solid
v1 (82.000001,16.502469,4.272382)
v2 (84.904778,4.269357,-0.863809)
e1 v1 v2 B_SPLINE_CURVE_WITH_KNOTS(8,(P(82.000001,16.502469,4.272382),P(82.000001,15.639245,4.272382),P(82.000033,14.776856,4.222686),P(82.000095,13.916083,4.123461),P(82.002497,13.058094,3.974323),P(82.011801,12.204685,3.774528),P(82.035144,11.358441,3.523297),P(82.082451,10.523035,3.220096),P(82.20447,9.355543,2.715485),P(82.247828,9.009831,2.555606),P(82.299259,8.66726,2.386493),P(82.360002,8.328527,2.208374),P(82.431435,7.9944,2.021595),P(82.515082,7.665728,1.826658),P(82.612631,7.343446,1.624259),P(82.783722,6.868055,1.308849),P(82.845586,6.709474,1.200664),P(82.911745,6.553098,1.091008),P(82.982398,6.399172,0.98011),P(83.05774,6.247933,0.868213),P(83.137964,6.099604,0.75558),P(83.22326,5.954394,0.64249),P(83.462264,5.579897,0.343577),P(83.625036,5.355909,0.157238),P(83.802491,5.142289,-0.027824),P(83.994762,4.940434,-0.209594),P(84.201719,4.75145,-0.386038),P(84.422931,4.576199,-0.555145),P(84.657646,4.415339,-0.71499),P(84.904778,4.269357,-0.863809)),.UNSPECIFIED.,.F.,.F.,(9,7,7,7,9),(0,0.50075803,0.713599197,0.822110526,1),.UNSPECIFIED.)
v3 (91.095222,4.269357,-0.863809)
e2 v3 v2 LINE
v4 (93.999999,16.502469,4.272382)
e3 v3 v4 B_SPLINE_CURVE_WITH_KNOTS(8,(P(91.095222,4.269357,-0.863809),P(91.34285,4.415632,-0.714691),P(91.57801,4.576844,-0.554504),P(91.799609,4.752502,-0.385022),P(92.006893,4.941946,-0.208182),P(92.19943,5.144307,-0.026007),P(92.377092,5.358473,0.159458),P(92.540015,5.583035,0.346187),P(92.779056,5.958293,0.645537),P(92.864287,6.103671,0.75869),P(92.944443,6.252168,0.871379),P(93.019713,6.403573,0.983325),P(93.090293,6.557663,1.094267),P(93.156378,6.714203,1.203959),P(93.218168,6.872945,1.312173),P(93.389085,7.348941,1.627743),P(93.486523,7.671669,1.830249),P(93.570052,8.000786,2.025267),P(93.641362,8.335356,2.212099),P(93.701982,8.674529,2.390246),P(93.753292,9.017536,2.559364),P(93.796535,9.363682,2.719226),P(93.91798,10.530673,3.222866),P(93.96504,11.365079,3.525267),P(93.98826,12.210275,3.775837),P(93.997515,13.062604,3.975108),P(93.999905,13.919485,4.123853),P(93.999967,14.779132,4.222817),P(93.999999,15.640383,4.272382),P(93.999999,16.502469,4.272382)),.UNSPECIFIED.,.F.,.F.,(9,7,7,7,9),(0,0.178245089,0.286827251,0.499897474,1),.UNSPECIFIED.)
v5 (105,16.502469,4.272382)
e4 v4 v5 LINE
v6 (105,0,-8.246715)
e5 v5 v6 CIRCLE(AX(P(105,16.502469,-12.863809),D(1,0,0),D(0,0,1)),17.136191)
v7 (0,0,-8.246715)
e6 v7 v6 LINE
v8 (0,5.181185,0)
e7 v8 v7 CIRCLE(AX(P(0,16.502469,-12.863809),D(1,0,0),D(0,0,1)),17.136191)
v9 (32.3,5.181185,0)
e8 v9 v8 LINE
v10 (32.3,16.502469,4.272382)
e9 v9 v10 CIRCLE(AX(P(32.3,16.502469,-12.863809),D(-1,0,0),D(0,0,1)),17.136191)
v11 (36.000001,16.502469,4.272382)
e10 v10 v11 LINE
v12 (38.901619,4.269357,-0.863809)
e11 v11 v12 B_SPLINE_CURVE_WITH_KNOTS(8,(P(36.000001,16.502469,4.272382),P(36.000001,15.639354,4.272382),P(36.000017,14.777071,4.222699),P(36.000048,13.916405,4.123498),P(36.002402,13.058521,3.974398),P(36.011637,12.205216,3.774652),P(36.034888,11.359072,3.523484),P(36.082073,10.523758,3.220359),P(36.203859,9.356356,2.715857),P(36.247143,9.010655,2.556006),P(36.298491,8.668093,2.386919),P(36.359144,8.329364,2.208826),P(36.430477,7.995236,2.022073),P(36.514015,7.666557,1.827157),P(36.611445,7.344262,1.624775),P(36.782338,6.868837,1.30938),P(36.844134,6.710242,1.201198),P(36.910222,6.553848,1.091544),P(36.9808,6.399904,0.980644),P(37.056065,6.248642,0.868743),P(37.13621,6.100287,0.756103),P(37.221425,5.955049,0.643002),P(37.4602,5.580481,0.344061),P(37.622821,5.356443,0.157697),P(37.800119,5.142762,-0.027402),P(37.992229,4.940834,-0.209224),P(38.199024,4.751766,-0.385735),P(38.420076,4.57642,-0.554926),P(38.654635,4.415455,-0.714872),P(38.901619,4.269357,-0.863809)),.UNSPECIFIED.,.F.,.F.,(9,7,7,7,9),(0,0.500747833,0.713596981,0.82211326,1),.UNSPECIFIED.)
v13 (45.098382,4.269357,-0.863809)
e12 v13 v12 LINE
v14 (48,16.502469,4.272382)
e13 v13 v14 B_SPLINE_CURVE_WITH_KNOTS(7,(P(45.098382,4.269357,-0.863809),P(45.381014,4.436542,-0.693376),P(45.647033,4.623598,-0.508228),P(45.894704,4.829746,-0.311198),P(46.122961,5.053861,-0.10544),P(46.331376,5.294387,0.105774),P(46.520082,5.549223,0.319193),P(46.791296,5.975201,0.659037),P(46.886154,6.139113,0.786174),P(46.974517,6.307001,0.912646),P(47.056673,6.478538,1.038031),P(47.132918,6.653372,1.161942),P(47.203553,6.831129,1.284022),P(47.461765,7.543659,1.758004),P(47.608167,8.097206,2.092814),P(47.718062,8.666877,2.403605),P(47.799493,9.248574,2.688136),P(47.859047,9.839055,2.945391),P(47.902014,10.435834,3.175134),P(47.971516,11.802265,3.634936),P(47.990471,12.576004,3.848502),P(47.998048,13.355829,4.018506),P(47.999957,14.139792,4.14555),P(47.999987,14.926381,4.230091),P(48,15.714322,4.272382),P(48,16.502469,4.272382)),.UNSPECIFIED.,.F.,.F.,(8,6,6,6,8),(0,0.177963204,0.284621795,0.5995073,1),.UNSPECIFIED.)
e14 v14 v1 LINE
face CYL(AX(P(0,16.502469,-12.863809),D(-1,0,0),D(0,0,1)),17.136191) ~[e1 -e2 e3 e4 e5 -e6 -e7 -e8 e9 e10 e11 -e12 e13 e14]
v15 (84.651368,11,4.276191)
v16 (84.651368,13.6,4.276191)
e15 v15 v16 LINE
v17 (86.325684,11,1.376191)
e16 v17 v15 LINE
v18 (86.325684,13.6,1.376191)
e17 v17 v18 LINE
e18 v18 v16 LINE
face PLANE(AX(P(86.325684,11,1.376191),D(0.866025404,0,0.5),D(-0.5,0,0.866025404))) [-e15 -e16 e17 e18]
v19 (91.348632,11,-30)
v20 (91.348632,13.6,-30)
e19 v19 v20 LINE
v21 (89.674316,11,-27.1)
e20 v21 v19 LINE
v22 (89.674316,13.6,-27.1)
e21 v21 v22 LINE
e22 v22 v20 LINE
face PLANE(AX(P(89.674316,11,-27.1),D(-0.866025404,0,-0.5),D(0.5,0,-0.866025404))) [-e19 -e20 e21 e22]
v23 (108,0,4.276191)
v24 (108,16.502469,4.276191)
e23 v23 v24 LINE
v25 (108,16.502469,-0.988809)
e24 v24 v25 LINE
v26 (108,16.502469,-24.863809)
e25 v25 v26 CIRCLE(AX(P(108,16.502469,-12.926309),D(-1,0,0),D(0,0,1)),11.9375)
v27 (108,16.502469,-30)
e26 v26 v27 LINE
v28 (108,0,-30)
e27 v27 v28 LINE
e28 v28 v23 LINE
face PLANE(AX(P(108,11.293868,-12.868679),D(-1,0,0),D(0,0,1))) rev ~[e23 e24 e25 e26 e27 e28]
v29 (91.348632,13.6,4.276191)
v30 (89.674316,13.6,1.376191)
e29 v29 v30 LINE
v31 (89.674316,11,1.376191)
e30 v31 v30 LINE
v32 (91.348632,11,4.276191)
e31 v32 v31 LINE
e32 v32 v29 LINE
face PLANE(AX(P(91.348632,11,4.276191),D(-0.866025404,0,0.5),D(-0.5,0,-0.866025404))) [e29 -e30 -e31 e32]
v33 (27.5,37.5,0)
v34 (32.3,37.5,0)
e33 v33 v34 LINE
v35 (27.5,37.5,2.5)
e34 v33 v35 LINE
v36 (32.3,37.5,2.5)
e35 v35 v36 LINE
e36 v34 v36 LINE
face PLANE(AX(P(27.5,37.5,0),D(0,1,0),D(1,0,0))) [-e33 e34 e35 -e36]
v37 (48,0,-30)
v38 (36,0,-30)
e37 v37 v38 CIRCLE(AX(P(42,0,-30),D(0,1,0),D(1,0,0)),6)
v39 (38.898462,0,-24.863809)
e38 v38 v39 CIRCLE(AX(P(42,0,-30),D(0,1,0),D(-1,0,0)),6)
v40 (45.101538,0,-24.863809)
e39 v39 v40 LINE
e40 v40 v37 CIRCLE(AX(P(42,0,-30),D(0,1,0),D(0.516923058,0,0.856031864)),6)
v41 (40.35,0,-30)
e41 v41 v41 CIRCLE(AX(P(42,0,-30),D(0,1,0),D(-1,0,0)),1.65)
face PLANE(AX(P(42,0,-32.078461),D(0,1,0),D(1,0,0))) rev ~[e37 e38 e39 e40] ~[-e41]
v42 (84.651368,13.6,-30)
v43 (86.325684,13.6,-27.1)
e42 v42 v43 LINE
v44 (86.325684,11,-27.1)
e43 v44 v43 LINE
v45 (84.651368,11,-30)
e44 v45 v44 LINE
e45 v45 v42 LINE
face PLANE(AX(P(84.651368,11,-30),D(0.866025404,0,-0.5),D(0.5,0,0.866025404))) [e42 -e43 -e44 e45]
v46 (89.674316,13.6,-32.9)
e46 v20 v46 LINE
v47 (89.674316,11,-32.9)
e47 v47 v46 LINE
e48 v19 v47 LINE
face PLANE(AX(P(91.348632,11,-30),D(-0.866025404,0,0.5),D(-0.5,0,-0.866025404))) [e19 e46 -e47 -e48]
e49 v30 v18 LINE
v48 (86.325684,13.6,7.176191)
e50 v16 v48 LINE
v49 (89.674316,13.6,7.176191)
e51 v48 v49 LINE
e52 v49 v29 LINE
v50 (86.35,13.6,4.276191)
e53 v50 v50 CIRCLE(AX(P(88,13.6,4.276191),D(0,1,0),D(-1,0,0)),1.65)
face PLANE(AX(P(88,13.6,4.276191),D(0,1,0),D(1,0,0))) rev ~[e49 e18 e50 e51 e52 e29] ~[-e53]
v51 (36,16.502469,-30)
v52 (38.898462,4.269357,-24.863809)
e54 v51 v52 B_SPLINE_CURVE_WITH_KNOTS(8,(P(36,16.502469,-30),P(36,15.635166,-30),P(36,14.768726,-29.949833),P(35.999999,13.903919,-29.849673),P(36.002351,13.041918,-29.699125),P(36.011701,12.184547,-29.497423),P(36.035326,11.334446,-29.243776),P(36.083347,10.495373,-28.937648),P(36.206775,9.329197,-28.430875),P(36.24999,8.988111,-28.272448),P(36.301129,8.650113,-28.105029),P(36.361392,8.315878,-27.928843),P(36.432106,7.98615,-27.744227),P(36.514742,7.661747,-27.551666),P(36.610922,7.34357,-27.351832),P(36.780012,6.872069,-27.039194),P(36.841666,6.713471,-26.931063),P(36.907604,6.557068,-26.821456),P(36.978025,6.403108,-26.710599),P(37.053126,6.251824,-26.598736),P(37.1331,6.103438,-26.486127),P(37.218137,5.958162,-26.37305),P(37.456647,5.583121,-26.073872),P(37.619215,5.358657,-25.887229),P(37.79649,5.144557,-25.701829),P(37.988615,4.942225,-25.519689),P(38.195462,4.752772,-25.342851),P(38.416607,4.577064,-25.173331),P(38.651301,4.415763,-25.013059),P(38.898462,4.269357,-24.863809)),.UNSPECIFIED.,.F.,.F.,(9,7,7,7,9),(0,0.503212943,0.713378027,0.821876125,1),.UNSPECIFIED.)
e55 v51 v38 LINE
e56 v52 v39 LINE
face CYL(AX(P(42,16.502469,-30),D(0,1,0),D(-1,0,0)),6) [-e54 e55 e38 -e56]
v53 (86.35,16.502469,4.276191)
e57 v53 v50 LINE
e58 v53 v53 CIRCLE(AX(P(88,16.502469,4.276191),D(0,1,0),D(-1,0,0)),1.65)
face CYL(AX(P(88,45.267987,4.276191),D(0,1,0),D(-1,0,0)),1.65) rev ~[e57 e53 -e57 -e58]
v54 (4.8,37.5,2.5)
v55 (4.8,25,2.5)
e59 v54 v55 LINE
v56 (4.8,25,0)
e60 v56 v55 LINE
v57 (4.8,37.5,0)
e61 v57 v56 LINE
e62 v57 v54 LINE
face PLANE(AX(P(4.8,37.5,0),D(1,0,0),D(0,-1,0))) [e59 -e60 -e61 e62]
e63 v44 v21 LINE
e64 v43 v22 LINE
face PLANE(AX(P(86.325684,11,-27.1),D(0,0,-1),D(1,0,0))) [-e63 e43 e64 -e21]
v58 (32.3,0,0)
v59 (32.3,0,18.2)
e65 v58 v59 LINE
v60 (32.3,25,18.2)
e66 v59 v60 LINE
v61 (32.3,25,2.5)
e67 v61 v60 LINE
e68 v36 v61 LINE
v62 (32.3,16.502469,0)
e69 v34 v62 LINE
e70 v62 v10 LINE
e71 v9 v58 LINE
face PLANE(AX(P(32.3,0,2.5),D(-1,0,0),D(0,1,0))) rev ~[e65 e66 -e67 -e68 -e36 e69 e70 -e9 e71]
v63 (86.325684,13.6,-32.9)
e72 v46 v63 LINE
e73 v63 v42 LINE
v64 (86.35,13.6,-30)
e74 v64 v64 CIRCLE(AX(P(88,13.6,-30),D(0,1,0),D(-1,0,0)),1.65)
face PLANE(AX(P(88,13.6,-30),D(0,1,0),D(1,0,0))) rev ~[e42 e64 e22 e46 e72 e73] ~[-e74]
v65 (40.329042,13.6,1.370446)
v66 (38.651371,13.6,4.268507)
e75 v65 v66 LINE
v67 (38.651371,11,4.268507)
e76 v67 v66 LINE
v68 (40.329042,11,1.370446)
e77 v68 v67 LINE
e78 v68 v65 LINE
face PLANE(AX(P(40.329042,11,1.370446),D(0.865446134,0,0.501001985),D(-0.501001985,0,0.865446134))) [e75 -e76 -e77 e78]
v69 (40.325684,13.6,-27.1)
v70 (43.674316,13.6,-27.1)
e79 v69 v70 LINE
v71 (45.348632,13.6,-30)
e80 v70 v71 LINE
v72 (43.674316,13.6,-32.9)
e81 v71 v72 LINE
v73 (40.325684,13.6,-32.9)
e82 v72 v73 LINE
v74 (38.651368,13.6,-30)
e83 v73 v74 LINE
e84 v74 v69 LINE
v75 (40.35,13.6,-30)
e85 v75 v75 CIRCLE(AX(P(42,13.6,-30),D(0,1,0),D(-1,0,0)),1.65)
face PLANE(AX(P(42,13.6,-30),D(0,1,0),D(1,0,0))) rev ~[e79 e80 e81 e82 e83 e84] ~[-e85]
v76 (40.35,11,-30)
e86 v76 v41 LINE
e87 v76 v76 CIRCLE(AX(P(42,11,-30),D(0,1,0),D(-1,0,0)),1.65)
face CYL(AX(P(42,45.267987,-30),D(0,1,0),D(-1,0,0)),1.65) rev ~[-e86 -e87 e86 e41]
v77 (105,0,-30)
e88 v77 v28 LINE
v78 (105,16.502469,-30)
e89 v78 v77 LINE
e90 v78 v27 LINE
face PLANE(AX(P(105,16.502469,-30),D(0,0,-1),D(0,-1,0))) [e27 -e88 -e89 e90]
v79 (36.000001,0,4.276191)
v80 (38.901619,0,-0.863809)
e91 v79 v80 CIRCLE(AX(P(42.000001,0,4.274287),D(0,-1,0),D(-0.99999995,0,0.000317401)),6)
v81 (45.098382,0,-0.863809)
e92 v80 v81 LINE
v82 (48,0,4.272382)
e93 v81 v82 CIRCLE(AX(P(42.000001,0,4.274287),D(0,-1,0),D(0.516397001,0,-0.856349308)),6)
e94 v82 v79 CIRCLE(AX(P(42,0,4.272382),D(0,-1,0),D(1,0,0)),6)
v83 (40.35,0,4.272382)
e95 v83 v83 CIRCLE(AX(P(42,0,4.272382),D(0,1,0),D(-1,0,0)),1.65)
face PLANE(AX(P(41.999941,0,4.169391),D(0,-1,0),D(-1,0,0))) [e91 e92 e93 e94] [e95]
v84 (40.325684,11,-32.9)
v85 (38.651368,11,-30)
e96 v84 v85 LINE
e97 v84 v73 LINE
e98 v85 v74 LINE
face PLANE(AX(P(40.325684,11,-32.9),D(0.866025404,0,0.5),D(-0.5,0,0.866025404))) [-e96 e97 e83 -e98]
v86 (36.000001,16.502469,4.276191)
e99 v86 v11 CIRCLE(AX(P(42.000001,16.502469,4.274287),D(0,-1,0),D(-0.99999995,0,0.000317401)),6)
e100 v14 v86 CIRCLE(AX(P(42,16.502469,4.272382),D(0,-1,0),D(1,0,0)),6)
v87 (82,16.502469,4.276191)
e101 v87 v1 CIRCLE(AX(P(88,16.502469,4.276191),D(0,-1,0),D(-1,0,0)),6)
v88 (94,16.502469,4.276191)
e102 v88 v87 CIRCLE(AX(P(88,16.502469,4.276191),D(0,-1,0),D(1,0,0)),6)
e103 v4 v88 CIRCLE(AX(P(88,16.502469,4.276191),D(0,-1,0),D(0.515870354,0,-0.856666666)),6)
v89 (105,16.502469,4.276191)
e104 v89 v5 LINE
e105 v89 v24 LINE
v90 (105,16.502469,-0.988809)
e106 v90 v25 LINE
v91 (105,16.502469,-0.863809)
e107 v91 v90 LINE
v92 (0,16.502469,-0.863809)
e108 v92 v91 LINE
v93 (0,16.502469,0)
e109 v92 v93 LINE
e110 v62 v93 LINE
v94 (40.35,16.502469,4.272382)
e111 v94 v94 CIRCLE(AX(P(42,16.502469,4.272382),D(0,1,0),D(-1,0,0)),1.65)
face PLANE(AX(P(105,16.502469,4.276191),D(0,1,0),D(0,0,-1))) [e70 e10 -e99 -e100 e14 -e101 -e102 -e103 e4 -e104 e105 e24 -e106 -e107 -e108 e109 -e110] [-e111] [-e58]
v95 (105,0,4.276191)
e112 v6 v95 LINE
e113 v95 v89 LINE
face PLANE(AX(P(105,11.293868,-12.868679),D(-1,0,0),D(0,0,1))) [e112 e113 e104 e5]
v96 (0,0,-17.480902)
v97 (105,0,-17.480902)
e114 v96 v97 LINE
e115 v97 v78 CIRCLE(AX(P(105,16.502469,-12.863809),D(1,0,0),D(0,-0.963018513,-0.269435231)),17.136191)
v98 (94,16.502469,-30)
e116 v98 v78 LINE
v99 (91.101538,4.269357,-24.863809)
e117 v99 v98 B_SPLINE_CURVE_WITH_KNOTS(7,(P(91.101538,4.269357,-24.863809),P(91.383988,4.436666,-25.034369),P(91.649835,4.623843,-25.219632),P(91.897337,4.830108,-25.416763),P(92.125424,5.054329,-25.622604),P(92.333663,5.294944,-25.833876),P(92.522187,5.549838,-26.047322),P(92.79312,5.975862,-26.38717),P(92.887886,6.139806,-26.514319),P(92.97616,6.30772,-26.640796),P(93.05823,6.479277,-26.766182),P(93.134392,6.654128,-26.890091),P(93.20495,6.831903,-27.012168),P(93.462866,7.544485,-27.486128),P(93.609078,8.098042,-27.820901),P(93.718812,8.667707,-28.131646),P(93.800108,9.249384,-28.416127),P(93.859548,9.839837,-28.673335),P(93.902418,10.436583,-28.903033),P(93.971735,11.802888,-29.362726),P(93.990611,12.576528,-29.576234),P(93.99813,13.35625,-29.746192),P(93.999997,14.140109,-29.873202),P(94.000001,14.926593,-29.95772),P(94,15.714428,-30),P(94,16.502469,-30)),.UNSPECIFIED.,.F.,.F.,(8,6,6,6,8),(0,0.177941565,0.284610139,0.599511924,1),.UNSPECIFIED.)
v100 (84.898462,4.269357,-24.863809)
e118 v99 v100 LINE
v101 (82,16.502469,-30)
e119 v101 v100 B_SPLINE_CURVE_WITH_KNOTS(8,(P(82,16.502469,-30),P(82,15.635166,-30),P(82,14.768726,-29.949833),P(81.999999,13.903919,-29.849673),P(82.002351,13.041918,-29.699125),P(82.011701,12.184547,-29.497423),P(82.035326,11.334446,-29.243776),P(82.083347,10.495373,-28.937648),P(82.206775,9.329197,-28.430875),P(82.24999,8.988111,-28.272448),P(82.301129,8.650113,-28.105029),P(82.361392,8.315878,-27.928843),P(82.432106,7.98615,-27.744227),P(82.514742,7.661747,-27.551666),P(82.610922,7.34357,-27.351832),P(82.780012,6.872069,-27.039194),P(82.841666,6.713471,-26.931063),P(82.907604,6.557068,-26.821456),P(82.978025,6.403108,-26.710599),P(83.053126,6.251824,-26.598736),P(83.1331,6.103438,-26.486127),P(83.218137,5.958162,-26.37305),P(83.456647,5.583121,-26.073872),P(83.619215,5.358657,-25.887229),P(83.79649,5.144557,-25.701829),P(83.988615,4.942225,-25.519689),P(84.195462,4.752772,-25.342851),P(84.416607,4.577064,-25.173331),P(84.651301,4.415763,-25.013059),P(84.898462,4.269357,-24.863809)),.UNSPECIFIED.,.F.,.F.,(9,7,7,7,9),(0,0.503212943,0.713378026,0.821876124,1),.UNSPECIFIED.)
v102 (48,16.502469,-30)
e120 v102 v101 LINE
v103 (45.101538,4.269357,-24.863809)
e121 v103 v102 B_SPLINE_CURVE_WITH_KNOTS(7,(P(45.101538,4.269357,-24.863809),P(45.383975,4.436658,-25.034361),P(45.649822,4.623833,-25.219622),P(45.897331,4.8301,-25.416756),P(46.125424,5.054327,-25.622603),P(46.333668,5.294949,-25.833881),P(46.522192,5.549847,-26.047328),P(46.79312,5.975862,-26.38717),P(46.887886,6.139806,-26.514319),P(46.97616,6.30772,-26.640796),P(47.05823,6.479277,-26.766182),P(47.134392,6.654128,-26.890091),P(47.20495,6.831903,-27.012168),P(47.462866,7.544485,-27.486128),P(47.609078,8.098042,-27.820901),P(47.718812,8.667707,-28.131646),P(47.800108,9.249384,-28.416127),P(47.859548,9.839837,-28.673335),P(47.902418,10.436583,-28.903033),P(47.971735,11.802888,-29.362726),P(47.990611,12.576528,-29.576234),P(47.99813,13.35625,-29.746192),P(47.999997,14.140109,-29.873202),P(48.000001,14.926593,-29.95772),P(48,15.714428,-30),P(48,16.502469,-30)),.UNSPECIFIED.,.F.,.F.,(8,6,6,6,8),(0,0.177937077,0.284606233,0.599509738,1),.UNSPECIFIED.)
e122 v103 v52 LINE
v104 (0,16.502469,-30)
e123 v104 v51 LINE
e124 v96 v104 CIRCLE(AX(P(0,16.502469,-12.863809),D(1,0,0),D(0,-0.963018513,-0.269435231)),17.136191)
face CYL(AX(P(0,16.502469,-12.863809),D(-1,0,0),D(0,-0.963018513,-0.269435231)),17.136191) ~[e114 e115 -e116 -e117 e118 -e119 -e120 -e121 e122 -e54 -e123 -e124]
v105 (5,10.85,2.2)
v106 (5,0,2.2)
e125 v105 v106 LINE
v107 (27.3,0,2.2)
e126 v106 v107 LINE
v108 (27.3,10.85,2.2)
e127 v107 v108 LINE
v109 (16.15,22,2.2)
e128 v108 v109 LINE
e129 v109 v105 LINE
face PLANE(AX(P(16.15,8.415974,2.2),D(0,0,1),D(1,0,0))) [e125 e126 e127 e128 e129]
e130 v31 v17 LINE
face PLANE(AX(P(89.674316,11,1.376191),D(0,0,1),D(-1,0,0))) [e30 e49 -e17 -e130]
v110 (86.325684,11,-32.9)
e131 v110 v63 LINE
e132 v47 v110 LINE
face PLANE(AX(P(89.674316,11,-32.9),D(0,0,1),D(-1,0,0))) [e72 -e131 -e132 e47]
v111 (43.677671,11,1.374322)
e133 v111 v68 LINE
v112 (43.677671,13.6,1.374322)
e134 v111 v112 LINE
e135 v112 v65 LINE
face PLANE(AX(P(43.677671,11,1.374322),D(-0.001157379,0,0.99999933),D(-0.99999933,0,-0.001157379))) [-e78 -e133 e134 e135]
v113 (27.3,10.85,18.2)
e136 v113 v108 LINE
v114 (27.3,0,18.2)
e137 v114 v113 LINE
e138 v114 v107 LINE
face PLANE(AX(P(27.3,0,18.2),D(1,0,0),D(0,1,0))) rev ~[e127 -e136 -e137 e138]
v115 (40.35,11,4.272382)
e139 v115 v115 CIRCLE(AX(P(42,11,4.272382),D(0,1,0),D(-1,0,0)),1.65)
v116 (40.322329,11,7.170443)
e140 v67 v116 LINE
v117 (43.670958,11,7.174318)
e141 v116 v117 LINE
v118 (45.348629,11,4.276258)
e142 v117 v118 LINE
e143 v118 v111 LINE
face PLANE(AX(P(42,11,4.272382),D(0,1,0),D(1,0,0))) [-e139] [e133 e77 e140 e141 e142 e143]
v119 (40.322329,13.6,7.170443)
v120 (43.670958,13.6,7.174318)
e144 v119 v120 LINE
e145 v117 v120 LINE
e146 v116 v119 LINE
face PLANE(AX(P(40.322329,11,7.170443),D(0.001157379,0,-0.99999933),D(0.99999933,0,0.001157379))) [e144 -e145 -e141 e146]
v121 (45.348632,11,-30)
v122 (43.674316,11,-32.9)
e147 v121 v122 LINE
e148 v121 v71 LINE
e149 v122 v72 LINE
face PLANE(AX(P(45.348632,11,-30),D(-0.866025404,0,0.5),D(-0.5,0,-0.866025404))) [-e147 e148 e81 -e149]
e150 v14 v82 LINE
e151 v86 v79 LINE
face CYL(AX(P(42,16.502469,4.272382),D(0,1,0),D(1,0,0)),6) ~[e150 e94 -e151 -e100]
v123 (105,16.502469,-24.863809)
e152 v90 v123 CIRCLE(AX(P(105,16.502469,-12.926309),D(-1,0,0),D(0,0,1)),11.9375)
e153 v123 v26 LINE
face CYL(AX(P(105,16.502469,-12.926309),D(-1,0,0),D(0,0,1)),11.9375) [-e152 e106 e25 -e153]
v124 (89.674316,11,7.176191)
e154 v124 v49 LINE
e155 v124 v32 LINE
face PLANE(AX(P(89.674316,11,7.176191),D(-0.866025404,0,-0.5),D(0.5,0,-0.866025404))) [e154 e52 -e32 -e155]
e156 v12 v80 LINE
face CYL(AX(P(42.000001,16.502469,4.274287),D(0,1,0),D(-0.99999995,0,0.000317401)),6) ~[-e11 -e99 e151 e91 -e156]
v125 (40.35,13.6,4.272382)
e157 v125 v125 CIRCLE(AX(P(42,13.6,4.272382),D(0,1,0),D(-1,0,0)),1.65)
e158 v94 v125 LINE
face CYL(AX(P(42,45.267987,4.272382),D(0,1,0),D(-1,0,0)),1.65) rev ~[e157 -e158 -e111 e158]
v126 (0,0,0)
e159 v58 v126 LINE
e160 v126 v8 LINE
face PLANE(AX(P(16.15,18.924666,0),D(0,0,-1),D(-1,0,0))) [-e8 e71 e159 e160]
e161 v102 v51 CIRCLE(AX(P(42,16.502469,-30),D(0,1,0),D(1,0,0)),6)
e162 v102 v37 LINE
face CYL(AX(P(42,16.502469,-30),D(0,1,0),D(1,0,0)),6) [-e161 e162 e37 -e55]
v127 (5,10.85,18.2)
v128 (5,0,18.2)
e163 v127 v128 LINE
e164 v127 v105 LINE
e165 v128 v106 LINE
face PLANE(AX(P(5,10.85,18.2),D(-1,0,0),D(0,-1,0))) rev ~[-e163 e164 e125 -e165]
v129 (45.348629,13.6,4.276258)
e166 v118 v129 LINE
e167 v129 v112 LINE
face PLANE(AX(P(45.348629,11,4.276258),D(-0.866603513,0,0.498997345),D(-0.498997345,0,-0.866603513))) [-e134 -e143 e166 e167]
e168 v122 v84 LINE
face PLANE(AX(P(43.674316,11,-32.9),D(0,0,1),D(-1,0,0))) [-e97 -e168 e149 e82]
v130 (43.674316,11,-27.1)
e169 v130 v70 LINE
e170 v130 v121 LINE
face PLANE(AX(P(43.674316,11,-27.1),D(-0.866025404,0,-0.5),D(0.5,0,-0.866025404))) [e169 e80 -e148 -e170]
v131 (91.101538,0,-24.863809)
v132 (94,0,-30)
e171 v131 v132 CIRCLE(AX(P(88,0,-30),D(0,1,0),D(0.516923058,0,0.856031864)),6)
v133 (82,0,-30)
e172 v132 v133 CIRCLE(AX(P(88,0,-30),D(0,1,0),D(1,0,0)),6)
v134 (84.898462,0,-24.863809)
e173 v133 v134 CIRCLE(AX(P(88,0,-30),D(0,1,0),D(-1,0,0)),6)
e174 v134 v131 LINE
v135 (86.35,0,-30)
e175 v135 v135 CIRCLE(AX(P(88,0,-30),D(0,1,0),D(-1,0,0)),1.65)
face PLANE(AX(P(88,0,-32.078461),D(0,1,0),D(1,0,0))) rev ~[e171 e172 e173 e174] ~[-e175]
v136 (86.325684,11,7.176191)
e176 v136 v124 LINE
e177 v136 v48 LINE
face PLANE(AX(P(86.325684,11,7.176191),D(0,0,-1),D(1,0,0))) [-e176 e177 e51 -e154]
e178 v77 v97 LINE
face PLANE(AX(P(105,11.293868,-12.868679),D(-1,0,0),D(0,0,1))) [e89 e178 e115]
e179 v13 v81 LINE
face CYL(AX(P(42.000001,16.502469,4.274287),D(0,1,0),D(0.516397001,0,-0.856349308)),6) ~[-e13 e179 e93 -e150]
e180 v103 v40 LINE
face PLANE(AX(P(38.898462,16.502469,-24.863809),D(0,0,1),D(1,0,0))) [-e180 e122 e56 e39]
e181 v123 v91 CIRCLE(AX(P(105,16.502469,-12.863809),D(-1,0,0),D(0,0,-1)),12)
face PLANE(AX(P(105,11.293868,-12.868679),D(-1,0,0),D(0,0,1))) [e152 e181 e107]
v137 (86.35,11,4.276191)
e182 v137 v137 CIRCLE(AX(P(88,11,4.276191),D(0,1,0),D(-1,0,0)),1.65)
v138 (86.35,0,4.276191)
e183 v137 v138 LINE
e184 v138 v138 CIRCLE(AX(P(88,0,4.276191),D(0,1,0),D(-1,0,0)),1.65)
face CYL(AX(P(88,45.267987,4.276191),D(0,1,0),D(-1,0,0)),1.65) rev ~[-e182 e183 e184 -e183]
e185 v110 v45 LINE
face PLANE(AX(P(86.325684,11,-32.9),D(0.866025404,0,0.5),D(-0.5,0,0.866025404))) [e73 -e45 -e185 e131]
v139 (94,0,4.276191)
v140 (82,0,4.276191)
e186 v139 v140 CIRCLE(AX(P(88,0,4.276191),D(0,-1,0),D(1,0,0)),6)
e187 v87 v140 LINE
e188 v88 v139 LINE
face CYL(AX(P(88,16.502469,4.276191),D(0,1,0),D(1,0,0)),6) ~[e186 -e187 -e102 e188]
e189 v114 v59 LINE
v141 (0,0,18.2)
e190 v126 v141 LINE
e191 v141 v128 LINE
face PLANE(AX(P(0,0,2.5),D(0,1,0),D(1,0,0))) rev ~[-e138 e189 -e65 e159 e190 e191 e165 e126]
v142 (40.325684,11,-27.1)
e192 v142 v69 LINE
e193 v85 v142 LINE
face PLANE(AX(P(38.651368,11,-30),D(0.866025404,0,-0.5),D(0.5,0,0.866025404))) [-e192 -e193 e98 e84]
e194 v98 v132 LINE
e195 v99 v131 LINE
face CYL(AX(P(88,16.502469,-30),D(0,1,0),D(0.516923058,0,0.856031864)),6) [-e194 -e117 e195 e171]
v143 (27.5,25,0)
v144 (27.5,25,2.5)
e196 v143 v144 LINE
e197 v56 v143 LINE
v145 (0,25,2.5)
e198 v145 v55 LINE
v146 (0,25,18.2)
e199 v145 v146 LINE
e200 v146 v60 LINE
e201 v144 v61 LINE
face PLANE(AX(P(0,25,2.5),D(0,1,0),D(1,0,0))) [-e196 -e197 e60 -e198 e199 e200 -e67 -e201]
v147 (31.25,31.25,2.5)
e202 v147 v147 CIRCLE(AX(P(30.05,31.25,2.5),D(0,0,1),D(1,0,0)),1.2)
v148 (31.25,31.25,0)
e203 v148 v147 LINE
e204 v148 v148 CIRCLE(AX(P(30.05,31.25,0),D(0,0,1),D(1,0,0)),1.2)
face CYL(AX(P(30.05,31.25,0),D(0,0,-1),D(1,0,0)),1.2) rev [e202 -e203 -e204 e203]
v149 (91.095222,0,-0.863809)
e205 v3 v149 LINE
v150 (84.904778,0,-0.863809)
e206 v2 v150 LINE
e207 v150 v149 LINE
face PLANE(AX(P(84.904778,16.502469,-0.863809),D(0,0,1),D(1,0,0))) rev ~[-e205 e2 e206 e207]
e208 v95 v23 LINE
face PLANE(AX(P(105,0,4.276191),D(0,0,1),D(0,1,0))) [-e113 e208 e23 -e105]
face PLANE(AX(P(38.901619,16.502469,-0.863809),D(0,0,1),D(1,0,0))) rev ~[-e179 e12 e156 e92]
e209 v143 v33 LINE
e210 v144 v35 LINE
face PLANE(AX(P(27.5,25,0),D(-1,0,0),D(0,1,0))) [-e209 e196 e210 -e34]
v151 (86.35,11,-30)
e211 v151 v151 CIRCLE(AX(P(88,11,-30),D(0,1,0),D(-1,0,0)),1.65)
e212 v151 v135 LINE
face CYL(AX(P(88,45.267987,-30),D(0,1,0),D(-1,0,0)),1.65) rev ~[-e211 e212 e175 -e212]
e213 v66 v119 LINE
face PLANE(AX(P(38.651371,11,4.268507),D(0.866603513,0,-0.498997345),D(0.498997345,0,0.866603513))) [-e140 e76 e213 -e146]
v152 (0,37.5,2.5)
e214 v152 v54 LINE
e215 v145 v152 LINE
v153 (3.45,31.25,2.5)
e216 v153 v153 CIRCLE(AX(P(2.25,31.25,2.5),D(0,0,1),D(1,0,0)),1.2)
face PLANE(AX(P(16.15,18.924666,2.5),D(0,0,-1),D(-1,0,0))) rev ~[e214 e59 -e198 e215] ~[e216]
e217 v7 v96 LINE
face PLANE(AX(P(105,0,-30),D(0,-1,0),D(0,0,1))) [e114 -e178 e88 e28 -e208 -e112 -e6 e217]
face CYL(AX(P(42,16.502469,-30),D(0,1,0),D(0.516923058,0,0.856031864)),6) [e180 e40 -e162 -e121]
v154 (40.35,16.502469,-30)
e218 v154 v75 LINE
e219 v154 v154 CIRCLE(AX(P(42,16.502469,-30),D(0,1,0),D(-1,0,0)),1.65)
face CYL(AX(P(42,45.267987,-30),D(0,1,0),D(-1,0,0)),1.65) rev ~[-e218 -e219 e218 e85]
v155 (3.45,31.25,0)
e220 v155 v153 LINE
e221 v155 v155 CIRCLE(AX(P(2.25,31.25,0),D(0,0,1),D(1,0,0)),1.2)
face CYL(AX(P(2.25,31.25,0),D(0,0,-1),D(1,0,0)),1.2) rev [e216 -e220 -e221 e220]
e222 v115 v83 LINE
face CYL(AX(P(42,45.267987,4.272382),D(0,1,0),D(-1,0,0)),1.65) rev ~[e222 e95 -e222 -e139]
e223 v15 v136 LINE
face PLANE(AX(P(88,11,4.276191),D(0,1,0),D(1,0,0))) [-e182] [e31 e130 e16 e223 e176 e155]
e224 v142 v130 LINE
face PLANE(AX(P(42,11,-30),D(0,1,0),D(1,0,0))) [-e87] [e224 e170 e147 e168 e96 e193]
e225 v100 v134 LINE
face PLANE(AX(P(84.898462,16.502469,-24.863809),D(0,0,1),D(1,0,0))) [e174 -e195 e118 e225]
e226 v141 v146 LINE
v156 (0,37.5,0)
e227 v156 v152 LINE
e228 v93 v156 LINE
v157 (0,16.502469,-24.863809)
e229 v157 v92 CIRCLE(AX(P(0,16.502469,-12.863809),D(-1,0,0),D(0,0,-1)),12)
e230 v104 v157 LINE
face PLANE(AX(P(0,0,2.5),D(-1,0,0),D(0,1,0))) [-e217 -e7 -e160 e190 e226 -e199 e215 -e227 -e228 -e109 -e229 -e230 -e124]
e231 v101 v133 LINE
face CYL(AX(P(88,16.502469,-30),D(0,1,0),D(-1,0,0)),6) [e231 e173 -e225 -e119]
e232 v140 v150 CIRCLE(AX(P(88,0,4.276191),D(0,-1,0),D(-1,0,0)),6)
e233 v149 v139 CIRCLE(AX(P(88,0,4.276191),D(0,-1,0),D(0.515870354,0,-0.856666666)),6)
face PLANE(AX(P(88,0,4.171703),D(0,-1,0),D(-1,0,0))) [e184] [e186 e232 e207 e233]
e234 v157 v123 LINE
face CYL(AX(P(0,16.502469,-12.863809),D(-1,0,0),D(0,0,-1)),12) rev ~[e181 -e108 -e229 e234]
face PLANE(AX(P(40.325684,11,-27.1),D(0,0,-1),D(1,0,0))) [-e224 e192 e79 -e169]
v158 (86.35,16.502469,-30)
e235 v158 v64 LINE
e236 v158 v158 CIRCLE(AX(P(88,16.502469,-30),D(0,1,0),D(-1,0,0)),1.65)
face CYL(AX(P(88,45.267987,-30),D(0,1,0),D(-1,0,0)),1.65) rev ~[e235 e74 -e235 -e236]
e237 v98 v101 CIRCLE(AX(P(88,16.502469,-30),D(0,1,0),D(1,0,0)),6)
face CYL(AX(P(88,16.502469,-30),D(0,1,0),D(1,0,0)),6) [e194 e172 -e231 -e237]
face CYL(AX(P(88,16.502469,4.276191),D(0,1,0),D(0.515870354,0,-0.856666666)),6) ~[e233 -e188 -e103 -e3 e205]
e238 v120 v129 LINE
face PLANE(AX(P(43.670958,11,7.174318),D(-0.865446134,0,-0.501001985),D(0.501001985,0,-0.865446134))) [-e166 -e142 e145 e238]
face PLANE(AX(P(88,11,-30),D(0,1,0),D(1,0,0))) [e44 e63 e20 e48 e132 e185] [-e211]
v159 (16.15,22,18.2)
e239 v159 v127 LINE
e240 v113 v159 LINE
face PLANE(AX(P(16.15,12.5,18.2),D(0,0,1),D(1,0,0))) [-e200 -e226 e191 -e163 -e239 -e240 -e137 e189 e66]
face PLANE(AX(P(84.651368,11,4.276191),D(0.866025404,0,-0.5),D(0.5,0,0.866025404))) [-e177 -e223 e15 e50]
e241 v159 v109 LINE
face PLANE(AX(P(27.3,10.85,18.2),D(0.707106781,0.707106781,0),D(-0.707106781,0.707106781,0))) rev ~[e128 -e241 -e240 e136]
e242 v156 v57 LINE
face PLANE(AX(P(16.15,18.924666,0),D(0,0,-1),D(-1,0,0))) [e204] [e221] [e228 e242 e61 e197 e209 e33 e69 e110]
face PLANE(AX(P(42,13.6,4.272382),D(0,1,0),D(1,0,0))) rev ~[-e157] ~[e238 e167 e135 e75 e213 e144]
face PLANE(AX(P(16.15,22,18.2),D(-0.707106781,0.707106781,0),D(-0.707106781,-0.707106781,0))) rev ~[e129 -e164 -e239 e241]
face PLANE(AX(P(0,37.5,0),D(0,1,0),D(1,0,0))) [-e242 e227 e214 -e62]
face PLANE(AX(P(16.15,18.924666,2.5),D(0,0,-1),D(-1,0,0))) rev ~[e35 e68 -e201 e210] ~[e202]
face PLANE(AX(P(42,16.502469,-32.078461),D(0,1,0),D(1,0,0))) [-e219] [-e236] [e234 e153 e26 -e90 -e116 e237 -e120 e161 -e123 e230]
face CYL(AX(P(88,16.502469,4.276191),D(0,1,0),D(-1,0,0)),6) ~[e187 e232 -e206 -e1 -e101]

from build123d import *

# Parameters (mm, degrees)
SKETCH1_R           = 1.2
BOSS_EXTRUDE1_DEPTH = 2.5
SKETCH2_W           = 32.3
SKETCH2_H           = 25
BOSS_EXTRUDE2_DEPTH = 15.7
BOSS_EXTRUDE3_DEPTH = 105
BOSS_EXTRUDE4_START = 105
BOSS_EXTRUDE4_DEPTH = 3
BOSS_EXTRUDE5_DEPTH = 16.502469
SKETCH8_R           = 1.65
CUT_EXTRUDE1_DEPTH  = 46.267987394
CUT_EXTRUDE2_START  = 11
CUT_EXTRUDE2_DEPTH  = 2.6
CUT_EXTRUDE3_DEPTH  = 16


with BuildPart() as part:
    # Sketch1 → Boss-Extrude1 (new body)
    with BuildSketch(Plane.XY):
        Polygon((0, 0), (0, 37.5), (4.8, 37.5), (4.8, 25), (27.5, 25), (27.5, 37.5), (32.3, 37.5), (32.3, 0), align=None)
        with Locations((2.25, 31.25)):
            Circle(SKETCH1_R, mode=Mode.SUBTRACT)
        with Locations((30.05, 31.25)):
            Circle(SKETCH1_R, mode=Mode.SUBTRACT)
    extrude(amount=BOSS_EXTRUDE1_DEPTH)

    # Sketch2 → Boss-Extrude2 (add)
    with BuildSketch(Plane.XY.offset(2.5)):
        with Locations((16.15, 12.5)):
            Rectangle(SKETCH2_W, SKETCH2_H)
    extrude(amount=BOSS_EXTRUDE2_DEPTH)

    # Sketch4 → Boss-Extrude3 (add)
    with BuildSketch(Plane(origin=(0, 0, 0), x_dir=(0, 0, -1), z_dir=(1, 0, 0))):
        with BuildLine():
            ThreePointArc((-4.272382365, 16.502469348), (-0.788451938, 6.145596051), (8.24671518, 0))
            Line((8.24671518, 0), (17.480902455, 0))
            ThreePointArc((17.480902455, 0), (26.516069574, 6.145596051), (30, 16.502469348))
            Line((30, 16.502469348), (24.863808818, 16.502469348))
            ThreePointArc((24.863808818, 16.502469348), (12.863808818, 4.502469348), (0.863808818, 16.502469348))
            Line((0.863808818, 16.502469348), (-4.272382365, 16.502469348))
        make_face()
    extrude(amount=BOSS_EXTRUDE3_DEPTH)

    # Sketch5 → Boss-Extrude4 (add)
    with BuildSketch(Plane(origin=(0, 0, 0), x_dir=(0, 0, -1), z_dir=(1, 0, 0)).offset(BOSS_EXTRUDE4_START)):
        with BuildLine():
            Line((24.863808818, 16.502469348), (30, 16.502469348))
            Line((30, 16.502469348), (30, 0))
            Line((30, 0), (-4.276191182, 0))
            Line((-4.276191182, 0), (-4.276191182, 16.502469348))
            Line((-4.276191182, 16.502469348), (0.988808818, 16.502469348))
            ThreePointArc((0.988808818, 16.502469348), (12.926308818, 28.439969348), (24.863808818, 16.502469348))
        make_face()
    extrude(amount=BOSS_EXTRUDE4_DEPTH)

    # Sketch6 → Boss-Extrude5 (add)
    with BuildSketch(Plane(origin=(0, 16.502469348, 0), x_dir=(1, 0, 0), z_dir=(0, 1, 0))):
        with BuildLine():
            ThreePointArc((48, 30), (42, 36), (36, 30))
            Line((36, 30), (48, 30))
        make_face()
        with BuildLine():
            ThreePointArc((36, 30), (36.774618191, 27.051206187), (38.89846165, 24.863808818))
            Line((38.89846165, 24.863808818), (45.10153835, 24.863808818))
            ThreePointArc((45.10153835, 24.863808818), (47.225381809, 27.051206187), (48, 30))
            Line((48, 30), (36, 30))
        make_face()
        with BuildLine():
            ThreePointArc((45.098382452, 0.863808818), (47.224007714, -1.323058877), (48, -4.272382365))
            ThreePointArc((48, -4.272382365), (42.001904409, -10.272382062), (36.000001209, -4.276191181))
            ThreePointArc((36.000001209, -4.276191181), (36.775057034, -1.324717133), (38.901618757, 0.863808818))
            Line((38.901618757, 0.863808818), (45.098382452, 0.863808818))
        make_face()
        with BuildLine():
            ThreePointArc((91.095222125, 0.863808818), (93.223568356, -1.324186164), (94, -4.276191182))
            ThreePointArc((94, -4.276191182), (88, -10.276191182), (82, -4.276191182))
            ThreePointArc((82, -4.276191182), (82.776431644, -1.324186164), (84.904777875, 0.863808818))
            Line((84.904777875, 0.863808818), (91.095222125, 0.863808818))
        make_face()
        with BuildLine():
            ThreePointArc((94, 30), (88, 36), (82, 30))
            Line((82, 30), (94, 30))
        make_face()
        with BuildLine():
            ThreePointArc((82, 30), (82.774618191, 27.051206187), (84.89846165, 24.863808818))
            Line((84.89846165, 24.863808818), (91.10153835, 24.863808818))
            ThreePointArc((91.10153835, 24.863808818), (93.225381809, 27.051206187), (94, 30))
            Line((94, 30), (82, 30))
        make_face()
    extrude(amount=-BOSS_EXTRUDE5_DEPTH)

    # Sketch8 → Cut-Extrude1 (cut, through all)
    with BuildSketch(Plane(origin=(19.547405665, 45.267987294, 23.856702342), x_dir=(-1, 0, 0), z_dir=(0, 1, 0))):
        with Locations((-68.452594335, -19.58051116)):
            Circle(SKETCH8_R)
        with Locations((-22.452594335, -19.584319977)):
            Circle(SKETCH8_R)
        with Locations((-22.452594335, -53.856702342)):
            Circle(SKETCH8_R)
        with Locations((-68.452594335, -53.856702342)):
            Circle(SKETCH8_R)
    extrude(amount=-CUT_EXTRUDE1_DEPTH, mode=Mode.SUBTRACT)

    # Sketch9 → Cut-Extrude2 (cut)
    with BuildSketch(Plane(origin=(0, 0, 0), x_dir=(1, 0, 0), z_dir=(0, 1, 0)).offset(CUT_EXTRUDE2_START)):
        Polygon((45.348631561, 30), (43.674315781, 32.9), (40.325684219, 32.9), (38.651368439, 30), (40.325684219, 27.1), (43.674315781, 27.1), align=None)
        Polygon((91.348631561, 30), (89.674315781, 32.9), (86.325684219, 32.9), (84.651368439, 30), (86.325684219, 27.1), (89.674315781, 27.1), align=None)
        Polygon((45.348629319, -4.276258001), (43.677671059, -1.374322125), (40.32904174, -1.370446489), (38.651370681, -4.268506728), (40.322328941, -7.170442604), (43.67095826, -7.17431824), align=None)
        Polygon((91.348631561, -4.276191182), (89.674315781, -1.376191182), (86.325684219, -1.376191182), (84.651368439, -4.276191182), (86.325684219, -7.176191182), (89.674315781, -7.176191182), align=None)
    extrude(amount=CUT_EXTRUDE2_DEPTH, mode=Mode.SUBTRACT)

    # Sketch10 → Cut-Extrude3 (cut)
    with BuildSketch(Plane.XY.offset(18.2)):
        Polygon((5, 0), (27.3, 0), (27.3, 10.85), (16.15, 22), (5, 10.85), align=None)
    extrude(amount=-CUT_EXTRUDE3_DEPTH, mode=Mode.SUBTRACT)


solid = part.part
